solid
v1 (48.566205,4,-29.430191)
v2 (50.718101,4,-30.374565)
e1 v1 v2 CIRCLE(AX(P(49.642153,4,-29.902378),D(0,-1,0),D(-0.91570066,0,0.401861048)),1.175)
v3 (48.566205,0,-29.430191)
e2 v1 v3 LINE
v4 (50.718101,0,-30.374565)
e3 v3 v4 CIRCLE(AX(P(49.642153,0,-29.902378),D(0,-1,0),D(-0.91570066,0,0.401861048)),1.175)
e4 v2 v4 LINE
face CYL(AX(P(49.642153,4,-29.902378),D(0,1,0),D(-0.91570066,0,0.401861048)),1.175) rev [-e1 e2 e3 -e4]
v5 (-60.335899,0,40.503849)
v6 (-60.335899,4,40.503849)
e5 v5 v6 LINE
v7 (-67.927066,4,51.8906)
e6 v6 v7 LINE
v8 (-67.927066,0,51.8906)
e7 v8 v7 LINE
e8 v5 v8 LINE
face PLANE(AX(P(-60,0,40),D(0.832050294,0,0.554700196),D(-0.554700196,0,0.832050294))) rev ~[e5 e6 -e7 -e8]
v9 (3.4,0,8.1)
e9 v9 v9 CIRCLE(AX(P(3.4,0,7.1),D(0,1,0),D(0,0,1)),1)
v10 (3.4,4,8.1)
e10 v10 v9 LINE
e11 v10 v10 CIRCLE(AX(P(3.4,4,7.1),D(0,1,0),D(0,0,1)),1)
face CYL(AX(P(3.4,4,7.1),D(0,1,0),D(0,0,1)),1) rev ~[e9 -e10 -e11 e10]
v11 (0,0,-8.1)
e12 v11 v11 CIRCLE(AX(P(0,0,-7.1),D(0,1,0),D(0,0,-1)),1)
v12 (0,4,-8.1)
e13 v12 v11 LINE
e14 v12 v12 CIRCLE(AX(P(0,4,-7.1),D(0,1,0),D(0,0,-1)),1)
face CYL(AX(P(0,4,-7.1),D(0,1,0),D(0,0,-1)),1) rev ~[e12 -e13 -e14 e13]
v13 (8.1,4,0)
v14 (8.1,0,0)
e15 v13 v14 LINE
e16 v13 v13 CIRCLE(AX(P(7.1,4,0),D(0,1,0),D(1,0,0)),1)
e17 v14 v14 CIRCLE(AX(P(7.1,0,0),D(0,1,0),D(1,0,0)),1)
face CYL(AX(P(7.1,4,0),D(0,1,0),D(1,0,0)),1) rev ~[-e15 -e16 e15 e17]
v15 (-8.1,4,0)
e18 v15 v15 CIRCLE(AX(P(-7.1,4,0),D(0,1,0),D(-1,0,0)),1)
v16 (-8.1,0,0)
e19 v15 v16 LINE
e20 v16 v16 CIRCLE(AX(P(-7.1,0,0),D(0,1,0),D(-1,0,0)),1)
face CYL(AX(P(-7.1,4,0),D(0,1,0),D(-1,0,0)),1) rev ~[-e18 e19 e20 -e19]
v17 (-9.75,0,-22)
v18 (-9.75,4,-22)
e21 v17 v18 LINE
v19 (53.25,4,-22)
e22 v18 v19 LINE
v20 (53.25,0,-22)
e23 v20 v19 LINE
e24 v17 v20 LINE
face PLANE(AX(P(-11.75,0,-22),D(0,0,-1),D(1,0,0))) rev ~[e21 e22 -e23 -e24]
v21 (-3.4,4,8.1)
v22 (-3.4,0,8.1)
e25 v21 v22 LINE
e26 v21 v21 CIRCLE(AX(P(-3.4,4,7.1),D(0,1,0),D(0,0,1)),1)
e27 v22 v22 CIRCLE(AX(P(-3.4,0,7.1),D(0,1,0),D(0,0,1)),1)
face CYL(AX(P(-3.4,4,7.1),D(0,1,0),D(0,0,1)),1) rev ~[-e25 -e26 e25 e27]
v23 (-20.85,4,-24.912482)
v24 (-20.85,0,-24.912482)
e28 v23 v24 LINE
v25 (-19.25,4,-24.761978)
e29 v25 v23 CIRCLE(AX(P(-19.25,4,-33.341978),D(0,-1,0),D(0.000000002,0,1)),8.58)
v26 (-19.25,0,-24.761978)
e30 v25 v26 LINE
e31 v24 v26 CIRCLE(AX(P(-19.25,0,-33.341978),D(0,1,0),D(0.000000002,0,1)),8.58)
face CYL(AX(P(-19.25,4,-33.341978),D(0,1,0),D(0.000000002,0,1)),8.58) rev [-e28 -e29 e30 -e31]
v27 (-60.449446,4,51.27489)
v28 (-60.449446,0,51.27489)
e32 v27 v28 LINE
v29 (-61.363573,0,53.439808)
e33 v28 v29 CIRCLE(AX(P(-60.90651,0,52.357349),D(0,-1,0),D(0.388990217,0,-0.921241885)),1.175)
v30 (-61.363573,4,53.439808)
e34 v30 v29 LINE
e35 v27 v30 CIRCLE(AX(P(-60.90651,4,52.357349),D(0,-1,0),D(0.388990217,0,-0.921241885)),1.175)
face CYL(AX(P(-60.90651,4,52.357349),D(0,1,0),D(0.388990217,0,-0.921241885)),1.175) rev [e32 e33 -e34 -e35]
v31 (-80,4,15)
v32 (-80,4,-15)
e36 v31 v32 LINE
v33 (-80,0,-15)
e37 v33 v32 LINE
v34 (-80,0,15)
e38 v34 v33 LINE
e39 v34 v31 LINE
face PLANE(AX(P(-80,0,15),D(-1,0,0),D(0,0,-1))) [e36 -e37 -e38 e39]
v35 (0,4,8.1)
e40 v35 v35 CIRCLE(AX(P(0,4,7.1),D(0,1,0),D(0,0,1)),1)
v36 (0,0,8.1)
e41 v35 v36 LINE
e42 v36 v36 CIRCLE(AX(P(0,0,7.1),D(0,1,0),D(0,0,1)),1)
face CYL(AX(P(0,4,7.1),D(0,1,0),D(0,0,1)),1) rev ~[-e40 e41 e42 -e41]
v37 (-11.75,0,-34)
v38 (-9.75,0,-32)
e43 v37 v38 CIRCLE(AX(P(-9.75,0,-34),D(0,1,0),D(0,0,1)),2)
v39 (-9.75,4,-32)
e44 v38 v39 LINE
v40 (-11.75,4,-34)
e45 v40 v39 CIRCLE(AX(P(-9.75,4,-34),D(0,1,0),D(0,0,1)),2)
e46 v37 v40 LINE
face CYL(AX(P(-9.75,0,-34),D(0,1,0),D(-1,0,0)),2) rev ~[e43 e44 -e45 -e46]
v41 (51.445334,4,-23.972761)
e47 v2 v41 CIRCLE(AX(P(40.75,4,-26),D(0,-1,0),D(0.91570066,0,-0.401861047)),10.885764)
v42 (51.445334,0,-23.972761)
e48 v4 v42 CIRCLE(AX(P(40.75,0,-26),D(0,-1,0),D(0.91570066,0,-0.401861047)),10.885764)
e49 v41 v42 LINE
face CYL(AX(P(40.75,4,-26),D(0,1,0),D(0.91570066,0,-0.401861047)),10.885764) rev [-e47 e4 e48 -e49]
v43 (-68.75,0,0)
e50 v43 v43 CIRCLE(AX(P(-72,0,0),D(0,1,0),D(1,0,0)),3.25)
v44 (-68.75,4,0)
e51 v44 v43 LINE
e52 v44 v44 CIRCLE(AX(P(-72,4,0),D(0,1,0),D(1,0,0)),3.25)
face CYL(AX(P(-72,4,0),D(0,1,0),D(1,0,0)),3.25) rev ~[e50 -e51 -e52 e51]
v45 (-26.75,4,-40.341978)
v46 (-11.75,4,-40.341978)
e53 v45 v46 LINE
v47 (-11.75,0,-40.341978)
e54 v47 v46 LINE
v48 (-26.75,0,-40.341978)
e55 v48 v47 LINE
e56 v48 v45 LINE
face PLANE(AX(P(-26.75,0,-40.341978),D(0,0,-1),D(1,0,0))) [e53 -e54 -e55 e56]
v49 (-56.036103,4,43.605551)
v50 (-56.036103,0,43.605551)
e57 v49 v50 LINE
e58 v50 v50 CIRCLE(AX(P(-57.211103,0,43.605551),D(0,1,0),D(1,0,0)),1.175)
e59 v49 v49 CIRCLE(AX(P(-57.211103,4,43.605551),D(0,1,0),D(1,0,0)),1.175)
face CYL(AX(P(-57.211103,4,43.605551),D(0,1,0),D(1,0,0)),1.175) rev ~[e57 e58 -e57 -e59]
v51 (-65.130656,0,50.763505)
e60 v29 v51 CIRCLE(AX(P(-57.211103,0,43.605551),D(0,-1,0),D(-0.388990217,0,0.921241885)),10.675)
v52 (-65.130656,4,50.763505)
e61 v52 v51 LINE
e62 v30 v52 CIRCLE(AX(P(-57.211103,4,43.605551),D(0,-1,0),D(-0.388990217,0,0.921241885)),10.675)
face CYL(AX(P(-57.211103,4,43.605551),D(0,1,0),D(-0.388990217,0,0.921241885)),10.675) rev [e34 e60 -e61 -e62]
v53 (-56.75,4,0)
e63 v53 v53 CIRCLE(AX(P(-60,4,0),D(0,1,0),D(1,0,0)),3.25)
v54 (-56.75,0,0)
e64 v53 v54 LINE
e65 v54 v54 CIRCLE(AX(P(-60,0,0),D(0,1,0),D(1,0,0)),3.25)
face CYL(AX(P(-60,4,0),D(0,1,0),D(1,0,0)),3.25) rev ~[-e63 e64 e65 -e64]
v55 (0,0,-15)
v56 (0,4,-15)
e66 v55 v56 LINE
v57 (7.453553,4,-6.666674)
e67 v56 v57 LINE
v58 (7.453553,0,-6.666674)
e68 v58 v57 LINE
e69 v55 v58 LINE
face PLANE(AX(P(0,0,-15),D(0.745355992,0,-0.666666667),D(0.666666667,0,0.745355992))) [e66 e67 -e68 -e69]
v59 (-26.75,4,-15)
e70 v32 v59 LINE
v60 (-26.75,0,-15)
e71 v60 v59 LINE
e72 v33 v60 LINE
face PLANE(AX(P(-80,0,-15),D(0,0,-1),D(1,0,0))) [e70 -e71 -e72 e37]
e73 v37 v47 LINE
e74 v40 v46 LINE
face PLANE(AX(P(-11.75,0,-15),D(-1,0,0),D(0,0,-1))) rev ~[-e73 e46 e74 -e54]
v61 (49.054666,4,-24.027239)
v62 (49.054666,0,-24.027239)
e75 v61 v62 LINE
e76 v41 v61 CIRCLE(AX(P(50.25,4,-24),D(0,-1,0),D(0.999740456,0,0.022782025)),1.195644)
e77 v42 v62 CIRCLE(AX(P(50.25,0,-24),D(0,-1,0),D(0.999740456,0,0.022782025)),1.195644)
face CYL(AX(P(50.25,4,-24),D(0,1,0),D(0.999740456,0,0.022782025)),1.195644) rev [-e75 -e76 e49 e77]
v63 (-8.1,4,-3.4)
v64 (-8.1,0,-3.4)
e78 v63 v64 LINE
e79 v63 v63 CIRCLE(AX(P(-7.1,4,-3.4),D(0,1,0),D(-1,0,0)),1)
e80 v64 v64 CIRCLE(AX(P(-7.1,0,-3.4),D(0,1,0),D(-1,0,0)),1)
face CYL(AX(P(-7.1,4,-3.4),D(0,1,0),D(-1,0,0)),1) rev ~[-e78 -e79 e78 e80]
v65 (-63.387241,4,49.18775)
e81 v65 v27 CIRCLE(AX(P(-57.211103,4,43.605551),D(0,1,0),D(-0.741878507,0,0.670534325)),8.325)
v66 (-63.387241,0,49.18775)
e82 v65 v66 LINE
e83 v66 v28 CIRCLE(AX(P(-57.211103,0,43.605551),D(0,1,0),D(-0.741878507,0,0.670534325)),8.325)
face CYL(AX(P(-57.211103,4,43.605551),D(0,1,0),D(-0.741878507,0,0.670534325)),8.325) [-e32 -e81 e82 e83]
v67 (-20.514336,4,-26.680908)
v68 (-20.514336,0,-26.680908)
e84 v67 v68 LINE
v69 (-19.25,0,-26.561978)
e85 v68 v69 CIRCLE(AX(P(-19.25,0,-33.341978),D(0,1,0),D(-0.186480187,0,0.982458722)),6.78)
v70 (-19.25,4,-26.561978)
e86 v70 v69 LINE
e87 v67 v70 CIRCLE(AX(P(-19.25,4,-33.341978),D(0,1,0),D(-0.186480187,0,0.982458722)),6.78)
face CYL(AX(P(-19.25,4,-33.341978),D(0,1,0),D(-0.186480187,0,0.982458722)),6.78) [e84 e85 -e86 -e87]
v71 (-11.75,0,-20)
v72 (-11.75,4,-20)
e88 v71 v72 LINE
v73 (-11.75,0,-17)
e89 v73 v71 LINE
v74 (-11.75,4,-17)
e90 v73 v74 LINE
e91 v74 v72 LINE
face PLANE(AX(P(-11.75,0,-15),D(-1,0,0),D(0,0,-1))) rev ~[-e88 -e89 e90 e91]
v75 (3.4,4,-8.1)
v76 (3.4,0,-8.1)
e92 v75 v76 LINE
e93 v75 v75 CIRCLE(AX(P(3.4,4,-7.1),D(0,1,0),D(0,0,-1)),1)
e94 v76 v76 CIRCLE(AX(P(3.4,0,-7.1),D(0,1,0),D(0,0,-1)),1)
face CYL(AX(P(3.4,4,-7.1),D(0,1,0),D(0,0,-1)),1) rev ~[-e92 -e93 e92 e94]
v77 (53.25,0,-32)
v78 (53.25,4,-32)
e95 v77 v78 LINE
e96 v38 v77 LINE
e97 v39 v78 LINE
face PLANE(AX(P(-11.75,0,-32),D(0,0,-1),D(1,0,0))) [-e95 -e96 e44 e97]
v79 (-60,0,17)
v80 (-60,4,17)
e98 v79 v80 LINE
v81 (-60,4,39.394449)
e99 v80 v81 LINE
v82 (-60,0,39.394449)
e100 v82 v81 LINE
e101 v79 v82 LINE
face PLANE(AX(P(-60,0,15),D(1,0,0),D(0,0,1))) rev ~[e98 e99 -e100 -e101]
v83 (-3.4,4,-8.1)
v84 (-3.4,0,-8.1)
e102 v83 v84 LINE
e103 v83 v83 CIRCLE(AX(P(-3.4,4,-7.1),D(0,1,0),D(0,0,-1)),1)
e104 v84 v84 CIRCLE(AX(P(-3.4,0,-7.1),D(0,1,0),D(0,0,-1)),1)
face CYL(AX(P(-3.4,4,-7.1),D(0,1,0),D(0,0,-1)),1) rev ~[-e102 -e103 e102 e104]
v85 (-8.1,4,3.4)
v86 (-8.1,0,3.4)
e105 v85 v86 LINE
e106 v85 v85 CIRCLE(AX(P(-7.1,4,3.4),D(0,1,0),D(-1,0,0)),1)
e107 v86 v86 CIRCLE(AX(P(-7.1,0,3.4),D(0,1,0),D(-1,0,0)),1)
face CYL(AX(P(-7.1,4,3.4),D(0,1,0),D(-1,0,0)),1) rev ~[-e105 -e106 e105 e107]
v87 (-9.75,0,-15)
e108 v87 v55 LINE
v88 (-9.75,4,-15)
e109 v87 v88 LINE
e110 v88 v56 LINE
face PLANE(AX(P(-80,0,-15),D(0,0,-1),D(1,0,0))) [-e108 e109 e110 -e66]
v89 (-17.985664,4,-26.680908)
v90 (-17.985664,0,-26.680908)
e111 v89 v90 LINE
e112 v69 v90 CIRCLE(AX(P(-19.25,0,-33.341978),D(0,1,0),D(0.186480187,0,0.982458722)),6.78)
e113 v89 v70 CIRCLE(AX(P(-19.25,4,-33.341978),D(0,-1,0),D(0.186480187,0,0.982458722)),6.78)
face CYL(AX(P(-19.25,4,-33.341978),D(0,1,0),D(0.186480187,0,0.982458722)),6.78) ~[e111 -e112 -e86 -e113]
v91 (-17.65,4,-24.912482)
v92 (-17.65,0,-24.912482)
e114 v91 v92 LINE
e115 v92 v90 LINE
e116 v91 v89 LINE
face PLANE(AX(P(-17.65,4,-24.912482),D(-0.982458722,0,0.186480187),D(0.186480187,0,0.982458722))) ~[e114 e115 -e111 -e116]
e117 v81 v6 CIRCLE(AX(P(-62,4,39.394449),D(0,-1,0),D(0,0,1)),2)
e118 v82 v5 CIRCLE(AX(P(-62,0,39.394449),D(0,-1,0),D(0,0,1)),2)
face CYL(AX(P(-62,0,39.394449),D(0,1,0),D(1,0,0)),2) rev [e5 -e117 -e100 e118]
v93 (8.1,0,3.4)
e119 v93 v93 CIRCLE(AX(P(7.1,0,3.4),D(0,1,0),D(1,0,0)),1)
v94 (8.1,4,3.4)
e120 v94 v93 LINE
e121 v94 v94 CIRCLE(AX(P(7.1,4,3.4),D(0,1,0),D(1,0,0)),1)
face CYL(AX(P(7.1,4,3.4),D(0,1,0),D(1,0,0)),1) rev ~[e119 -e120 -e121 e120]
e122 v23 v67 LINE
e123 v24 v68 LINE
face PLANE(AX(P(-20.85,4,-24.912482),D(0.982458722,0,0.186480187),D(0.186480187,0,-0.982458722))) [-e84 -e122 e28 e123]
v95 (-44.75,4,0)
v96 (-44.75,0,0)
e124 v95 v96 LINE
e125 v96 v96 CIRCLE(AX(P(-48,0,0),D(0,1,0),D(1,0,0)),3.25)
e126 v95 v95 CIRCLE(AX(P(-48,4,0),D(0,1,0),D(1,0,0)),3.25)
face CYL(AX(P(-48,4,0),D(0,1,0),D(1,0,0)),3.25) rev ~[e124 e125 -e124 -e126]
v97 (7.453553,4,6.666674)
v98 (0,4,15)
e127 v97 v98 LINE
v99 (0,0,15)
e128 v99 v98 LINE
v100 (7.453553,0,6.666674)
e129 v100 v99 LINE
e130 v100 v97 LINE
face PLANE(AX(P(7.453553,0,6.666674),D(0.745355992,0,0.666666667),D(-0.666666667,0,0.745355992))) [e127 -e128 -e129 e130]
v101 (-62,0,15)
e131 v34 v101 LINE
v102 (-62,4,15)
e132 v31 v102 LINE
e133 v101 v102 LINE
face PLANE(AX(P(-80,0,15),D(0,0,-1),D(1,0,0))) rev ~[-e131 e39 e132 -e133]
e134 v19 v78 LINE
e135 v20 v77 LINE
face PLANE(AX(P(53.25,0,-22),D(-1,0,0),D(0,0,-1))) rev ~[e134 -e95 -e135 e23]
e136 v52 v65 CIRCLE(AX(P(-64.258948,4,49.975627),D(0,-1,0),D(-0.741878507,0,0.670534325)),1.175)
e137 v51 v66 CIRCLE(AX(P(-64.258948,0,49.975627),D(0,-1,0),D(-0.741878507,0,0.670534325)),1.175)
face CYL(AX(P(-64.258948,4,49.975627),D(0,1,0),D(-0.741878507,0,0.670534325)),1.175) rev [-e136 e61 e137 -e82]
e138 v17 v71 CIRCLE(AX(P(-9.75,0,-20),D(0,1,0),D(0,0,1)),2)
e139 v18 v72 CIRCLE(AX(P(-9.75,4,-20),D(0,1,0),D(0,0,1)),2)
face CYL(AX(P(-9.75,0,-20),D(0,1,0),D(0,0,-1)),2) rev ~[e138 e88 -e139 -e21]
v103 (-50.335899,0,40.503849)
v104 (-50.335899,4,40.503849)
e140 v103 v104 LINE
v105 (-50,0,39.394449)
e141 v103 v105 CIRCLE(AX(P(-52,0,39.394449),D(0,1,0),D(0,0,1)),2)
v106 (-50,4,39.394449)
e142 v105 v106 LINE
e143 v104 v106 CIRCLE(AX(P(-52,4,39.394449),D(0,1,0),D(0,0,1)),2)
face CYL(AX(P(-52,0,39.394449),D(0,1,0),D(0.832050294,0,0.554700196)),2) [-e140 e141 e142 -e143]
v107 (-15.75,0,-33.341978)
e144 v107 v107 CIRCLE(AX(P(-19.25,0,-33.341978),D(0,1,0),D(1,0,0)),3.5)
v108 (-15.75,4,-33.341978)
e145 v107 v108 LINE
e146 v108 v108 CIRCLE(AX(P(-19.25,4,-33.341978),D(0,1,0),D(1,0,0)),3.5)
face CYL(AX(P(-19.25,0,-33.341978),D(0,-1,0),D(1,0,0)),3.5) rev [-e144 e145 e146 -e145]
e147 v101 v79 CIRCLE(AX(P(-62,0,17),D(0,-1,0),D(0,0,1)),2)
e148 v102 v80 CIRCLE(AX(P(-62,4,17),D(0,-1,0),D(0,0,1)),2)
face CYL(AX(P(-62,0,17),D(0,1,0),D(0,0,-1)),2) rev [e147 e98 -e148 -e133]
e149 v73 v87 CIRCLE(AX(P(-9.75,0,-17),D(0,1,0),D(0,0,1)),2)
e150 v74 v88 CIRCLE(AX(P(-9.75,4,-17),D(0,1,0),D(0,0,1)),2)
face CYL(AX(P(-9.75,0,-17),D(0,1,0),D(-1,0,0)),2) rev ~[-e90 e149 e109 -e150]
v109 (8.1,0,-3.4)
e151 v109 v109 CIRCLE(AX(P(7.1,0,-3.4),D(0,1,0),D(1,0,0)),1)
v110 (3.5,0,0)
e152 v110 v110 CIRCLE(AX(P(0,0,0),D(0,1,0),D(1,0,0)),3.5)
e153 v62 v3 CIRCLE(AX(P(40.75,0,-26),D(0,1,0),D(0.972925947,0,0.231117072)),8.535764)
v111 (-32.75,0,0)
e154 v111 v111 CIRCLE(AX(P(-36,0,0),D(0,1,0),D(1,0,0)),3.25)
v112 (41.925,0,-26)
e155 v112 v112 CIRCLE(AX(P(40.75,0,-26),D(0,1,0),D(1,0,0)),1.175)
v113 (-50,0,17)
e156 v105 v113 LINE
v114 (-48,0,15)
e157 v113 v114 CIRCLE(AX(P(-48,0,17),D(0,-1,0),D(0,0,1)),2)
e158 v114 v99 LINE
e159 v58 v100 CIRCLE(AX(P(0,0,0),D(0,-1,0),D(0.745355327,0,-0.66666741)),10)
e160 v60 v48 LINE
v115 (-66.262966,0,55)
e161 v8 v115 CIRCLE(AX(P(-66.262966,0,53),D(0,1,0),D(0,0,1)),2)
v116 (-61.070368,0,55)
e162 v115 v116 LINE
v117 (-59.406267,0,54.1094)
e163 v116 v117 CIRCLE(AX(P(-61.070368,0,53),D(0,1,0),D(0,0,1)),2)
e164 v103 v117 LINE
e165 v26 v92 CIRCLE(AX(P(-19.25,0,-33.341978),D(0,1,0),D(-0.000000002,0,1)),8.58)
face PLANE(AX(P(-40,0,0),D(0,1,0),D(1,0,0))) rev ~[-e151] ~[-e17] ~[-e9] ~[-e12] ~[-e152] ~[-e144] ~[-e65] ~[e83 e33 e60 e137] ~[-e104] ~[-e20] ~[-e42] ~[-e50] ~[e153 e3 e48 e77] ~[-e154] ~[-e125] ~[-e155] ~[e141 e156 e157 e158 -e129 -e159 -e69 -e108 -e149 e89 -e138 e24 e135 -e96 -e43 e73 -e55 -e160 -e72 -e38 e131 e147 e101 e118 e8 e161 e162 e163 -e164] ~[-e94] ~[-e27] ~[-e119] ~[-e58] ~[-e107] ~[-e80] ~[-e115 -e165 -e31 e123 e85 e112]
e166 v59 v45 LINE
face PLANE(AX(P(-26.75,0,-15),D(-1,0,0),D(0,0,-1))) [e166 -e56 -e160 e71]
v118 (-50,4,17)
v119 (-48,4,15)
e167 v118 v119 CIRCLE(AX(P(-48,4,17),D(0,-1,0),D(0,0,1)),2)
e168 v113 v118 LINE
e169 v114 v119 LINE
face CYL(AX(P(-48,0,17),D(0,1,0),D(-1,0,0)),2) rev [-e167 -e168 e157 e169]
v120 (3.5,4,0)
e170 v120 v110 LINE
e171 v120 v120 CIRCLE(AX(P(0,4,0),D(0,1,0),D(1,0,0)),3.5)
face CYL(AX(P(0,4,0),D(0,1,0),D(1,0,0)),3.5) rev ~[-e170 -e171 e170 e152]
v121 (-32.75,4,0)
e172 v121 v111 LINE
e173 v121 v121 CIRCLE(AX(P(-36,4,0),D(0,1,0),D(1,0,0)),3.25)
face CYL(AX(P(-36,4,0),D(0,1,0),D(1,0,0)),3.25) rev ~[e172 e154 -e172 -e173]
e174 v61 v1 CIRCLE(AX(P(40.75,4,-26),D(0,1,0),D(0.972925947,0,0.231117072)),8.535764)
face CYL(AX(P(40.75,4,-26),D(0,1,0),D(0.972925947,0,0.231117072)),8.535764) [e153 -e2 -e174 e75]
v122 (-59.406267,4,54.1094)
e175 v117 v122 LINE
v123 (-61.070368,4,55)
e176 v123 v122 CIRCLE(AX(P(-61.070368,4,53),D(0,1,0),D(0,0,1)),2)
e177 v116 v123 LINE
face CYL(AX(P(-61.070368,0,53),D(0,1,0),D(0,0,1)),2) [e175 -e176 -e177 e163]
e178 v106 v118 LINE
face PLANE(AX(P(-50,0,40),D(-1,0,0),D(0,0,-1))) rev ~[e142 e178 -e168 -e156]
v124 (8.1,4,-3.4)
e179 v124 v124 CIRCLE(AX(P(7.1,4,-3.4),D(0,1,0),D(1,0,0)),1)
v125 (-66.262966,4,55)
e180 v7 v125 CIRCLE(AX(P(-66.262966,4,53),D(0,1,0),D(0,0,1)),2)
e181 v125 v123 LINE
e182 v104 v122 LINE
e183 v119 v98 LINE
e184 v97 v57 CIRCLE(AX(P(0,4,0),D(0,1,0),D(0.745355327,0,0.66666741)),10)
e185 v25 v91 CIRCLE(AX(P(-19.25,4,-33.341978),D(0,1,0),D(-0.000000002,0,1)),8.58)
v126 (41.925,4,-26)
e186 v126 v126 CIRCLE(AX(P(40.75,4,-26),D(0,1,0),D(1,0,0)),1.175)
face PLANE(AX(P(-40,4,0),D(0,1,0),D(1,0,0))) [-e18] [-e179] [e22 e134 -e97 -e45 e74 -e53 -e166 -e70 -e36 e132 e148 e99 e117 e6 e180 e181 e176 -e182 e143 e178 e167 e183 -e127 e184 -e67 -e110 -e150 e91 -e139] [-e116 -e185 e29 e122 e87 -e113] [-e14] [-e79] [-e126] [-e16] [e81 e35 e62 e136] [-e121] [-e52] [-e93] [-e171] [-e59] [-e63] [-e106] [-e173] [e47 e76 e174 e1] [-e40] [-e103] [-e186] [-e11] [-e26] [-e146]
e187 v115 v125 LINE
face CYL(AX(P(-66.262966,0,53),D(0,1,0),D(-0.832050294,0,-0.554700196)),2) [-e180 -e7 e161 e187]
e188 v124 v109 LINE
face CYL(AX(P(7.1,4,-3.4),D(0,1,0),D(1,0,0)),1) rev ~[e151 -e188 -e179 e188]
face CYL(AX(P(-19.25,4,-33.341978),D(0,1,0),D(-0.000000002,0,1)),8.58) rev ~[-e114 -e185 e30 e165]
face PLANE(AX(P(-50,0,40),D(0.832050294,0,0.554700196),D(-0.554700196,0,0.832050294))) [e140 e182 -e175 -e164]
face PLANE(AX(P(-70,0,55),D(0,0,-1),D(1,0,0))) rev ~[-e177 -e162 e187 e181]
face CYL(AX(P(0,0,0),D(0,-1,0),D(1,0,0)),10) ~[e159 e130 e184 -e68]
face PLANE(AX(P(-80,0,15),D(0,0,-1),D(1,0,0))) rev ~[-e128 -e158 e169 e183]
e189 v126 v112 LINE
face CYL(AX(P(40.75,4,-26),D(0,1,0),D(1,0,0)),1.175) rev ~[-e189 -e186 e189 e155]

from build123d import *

# Parameters (mm, degrees)
SKETCH1_R           = 10
BOSS_EXTRUDE1_DEPTH = 4
SKETCH2_W           = 80
SKETCH2_H           = 30
BOSS_EXTRUDE2_DEPTH = 4
SKETCH5_W           = 15
SKETCH5_H           = 25.341978046
SKETCH5_R           = 3.5
BOSS_EXTRUDE3_DEPTH = 4
CUT_EXTRUDE1_DEPTH  = 5
SKETCH7_R           = 3.25
CUT_EXTRUDE2_DEPTH  = 5
LPATTERN1_COUNT     = 4
LPATTERN1_PITCH     = 12
SKETCH8_W           = 65
SKETCH8_H           = 10
BOSS_EXTRUDE4_DEPTH = 4
SKETCH9_R           = 1.175
CUT_EXTRUDE3_DEPTH  = 4
SKETCH10_W          = 10
SKETCH10_H          = 25
BOSS_EXTRUDE5_DEPTH = 4
SKETCH11_R          = 1.175
CUT_EXTRUDE4_DEPTH  = 4
SKETCH12_R          = 1
CUT_EXTRUDE5_DEPTH  = 5
CIRPATTERN1_COUNT   = 4
SKETCH13_R          = 3.5
CUT_EXTRUDE6_DEPTH  = 5
FILLET1_R           = 2


with BuildPart() as part:
    # Sketch1 → Boss-Extrude1 (new body)
    with BuildSketch(Plane(origin=(0, 0, 0), x_dir=(1, 0, 0), z_dir=(0, 1, 0))):
        Circle(SKETCH1_R)
    extrude(amount=BOSS_EXTRUDE1_DEPTH)

    # Sketch2 → Boss-Extrude2 (add)
    with BuildSketch(Plane(origin=(0, 0, 0), x_dir=(1, 0, 0), z_dir=(0, 1, 0))):
        with Locations((-40, 0)):
            Rectangle(SKETCH2_W, SKETCH2_H)
        Polygon((7.453553273, 6.666674104), (7.453553273, -6.666674104), (0, -15), (0, 15), align=None)
    extrude(amount=BOSS_EXTRUDE2_DEPTH)

    # Sketch5 → Boss-Extrude3 (add)
    with BuildSketch(Plane(origin=(0, 0, 0), x_dir=(1, 0, 0), z_dir=(0, 1, 0))):
        with Locations((-19.25, 27.670989023)):
            Rectangle(SKETCH5_W, SKETCH5_H)
        with Locations((-19.25, 33.341978046)):
            Circle(SKETCH5_R, mode=Mode.SUBTRACT)
    extrude(amount=BOSS_EXTRUDE3_DEPTH)

    # Sketch6 → Cut-Extrude1 (cut, through all)
    with BuildSketch(Plane(origin=(0, 4, 0), x_dir=(1, 0, 0), z_dir=(0, 1, 0))):
        with BuildLine():
            Line((-20.85, 24.912482213), (-20.514335664, 26.680907912))
            ThreePointArc((-20.514335664, 26.680907912), (-19.88495846, 26.591775993), (-19.25, 26.561978046))
            Line((-19.25, 26.561978046), (-19.25, 24.761978046))
            ThreePointArc((-19.25, 24.761978046), (-20.053531503, 24.799686952), (-20.85, 24.912482213))
        make_face()
    cut_extrude1 = extrude(amount=-CUT_EXTRUDE1_DEPTH, mode=Mode.SUBTRACT)

    # Mirror1: Cut-Extrude1 across plane
    add(cut_extrude1.mirror(Plane.ZY.offset(19.25)), mode=Mode.SUBTRACT)

    # Sketch7 → Cut-Extrude2 (cut, through all)
    with BuildSketch(Plane(origin=(0, 4, 0), x_dir=(1, 0, 0), z_dir=(0, 1, 0))):
        with Locations((-72, 0)):
            Circle(SKETCH7_R)
    cut_extrude2 = extrude(amount=-CUT_EXTRUDE2_DEPTH, mode=Mode.SUBTRACT)

    # LPattern1: Cut-Extrude2 ×4
    with Locations(*[(i * LPATTERN1_PITCH, 0, 0) for i in range(1, LPATTERN1_COUNT)]):
        add(cut_extrude2, mode=Mode.SUBTRACT)

    # Sketch8 → Boss-Extrude4 (add)
    with BuildSketch(Plane(origin=(0, 0, 0), x_dir=(1, 0, 0), z_dir=(0, 1, 0))):
        with Locations((20.75, 27)):
            Rectangle(SKETCH8_W, SKETCH8_H)
    extrude(amount=BOSS_EXTRUDE4_DEPTH)

    # Sketch9 → Cut-Extrude3 (cut)
    with BuildSketch(Plane(origin=(0, 4, 0), x_dir=(1, 0, 0), z_dir=(0, 1, 0))):
        with Locations((40.75, 26)):
            Circle(SKETCH9_R)
        with BuildLine():
            ThreePointArc((50.718101372, 30.374564563), (51.56619893, 27.22869882), (51.445333625, 23.97276081))
            ThreePointArc((51.445333625, 23.97276081), (50.22276081, 22.804666375), (49.054666375, 24.02723919))
            ThreePointArc((49.054666375, 24.02723919), (49.251093716, 26.76855347), (48.566204822, 29.430191102))
            ThreePointArc((48.566204822, 29.430191102), (49.169966366, 30.978326108), (50.718101372, 30.374564563))
        make_face()
    extrude(amount=-CUT_EXTRUDE3_DEPTH, mode=Mode.SUBTRACT)

    # Sketch10 → Boss-Extrude5 (add)
    with BuildSketch(Plane(origin=(0, 0, 0), x_dir=(1, 0, 0), z_dir=(0, 1, 0))):
        Polygon((-60, -55), (-60, -40), (-50, -40), align=None)
        with Locations((-55, -27.5)):
            Rectangle(SKETCH10_W, SKETCH10_H)
        Polygon((-60, -40), (-70, -55), (-60, -55), align=None)
    extrude(amount=BOSS_EXTRUDE5_DEPTH)

    # Sketch11 → Cut-Extrude4 (cut)
    with BuildSketch(Plane(origin=(0, 4, 0), x_dir=(1, 0, 0), z_dir=(0, 1, 0))):
        with Locations((-57.211102551, -43.605551275)):
            Circle(SKETCH11_R)
        with BuildLine():
            ThreePointArc((-61.363573117, -53.4398084), (-63.3936658, -52.307938113), (-65.130655612, -50.763505195))
            ThreePointArc((-65.130655612, -50.763505195), (-65.046826198, -49.103920117), (-63.387241121, -49.187749531))
            ThreePointArc((-63.387241121, -49.187749531), (-62.032633141, -50.392190191), (-60.449446107, -51.27488997))
            ThreePointArc((-60.449446107, -51.27488997), (-59.824050397, -52.81441269), (-61.363573117, -53.4398084))
        make_face()
    extrude(amount=-CUT_EXTRUDE4_DEPTH, mode=Mode.SUBTRACT)

    # Sketch12 → Cut-Extrude5 (cut, through all)
    with BuildSketch(Plane(origin=(0, 4, 0), x_dir=(1, 0, 0), z_dir=(0, 1, 0))):
        with Locations((7.1, 3.4)):
            Circle(SKETCH12_R)
        with Locations((7.1, -3.4)):
            Circle(SKETCH12_R)
        with Locations((7.1, 0)):
            Circle(SKETCH12_R)
    cut_extrude5 = extrude(amount=-CUT_EXTRUDE5_DEPTH, mode=Mode.SUBTRACT)

    # CirPattern1: Cut-Extrude5 ×4 about axis
    cirpattern1_axis = Axis((0, 0, 0), (0, 1, 0))
    for i in range(1, CIRPATTERN1_COUNT):
        add(cut_extrude5.rotate(cirpattern1_axis, i * 360 / CIRPATTERN1_COUNT), mode=Mode.SUBTRACT)

    # Sketch13 → Cut-Extrude6 (cut, through all)
    with BuildSketch(Plane(origin=(0, 4, 0), x_dir=(1, 0, 0), z_dir=(0, 1, 0))):
        Circle(SKETCH13_R)
    extrude(amount=-CUT_EXTRUDE6_DEPTH, mode=Mode.SUBTRACT)

    # Fillet1
    fillet1_edges = [part.edges().sort_by_distance(p)[0] for p in [
        (-11.75, 2, -32),
        (-11.75, 2, -22),
        (-60, 2, 15),
        (-60, 2, 40),
        (-70, 2, 55),
        (-60, 2, 55),
        (-50, 2, 40),
        (-50, 2, 15),
        (-11.75, 2, -15),
    ]]
    fillet(fillet1_edges, radius=FILLET1_R)


solid = part.part
